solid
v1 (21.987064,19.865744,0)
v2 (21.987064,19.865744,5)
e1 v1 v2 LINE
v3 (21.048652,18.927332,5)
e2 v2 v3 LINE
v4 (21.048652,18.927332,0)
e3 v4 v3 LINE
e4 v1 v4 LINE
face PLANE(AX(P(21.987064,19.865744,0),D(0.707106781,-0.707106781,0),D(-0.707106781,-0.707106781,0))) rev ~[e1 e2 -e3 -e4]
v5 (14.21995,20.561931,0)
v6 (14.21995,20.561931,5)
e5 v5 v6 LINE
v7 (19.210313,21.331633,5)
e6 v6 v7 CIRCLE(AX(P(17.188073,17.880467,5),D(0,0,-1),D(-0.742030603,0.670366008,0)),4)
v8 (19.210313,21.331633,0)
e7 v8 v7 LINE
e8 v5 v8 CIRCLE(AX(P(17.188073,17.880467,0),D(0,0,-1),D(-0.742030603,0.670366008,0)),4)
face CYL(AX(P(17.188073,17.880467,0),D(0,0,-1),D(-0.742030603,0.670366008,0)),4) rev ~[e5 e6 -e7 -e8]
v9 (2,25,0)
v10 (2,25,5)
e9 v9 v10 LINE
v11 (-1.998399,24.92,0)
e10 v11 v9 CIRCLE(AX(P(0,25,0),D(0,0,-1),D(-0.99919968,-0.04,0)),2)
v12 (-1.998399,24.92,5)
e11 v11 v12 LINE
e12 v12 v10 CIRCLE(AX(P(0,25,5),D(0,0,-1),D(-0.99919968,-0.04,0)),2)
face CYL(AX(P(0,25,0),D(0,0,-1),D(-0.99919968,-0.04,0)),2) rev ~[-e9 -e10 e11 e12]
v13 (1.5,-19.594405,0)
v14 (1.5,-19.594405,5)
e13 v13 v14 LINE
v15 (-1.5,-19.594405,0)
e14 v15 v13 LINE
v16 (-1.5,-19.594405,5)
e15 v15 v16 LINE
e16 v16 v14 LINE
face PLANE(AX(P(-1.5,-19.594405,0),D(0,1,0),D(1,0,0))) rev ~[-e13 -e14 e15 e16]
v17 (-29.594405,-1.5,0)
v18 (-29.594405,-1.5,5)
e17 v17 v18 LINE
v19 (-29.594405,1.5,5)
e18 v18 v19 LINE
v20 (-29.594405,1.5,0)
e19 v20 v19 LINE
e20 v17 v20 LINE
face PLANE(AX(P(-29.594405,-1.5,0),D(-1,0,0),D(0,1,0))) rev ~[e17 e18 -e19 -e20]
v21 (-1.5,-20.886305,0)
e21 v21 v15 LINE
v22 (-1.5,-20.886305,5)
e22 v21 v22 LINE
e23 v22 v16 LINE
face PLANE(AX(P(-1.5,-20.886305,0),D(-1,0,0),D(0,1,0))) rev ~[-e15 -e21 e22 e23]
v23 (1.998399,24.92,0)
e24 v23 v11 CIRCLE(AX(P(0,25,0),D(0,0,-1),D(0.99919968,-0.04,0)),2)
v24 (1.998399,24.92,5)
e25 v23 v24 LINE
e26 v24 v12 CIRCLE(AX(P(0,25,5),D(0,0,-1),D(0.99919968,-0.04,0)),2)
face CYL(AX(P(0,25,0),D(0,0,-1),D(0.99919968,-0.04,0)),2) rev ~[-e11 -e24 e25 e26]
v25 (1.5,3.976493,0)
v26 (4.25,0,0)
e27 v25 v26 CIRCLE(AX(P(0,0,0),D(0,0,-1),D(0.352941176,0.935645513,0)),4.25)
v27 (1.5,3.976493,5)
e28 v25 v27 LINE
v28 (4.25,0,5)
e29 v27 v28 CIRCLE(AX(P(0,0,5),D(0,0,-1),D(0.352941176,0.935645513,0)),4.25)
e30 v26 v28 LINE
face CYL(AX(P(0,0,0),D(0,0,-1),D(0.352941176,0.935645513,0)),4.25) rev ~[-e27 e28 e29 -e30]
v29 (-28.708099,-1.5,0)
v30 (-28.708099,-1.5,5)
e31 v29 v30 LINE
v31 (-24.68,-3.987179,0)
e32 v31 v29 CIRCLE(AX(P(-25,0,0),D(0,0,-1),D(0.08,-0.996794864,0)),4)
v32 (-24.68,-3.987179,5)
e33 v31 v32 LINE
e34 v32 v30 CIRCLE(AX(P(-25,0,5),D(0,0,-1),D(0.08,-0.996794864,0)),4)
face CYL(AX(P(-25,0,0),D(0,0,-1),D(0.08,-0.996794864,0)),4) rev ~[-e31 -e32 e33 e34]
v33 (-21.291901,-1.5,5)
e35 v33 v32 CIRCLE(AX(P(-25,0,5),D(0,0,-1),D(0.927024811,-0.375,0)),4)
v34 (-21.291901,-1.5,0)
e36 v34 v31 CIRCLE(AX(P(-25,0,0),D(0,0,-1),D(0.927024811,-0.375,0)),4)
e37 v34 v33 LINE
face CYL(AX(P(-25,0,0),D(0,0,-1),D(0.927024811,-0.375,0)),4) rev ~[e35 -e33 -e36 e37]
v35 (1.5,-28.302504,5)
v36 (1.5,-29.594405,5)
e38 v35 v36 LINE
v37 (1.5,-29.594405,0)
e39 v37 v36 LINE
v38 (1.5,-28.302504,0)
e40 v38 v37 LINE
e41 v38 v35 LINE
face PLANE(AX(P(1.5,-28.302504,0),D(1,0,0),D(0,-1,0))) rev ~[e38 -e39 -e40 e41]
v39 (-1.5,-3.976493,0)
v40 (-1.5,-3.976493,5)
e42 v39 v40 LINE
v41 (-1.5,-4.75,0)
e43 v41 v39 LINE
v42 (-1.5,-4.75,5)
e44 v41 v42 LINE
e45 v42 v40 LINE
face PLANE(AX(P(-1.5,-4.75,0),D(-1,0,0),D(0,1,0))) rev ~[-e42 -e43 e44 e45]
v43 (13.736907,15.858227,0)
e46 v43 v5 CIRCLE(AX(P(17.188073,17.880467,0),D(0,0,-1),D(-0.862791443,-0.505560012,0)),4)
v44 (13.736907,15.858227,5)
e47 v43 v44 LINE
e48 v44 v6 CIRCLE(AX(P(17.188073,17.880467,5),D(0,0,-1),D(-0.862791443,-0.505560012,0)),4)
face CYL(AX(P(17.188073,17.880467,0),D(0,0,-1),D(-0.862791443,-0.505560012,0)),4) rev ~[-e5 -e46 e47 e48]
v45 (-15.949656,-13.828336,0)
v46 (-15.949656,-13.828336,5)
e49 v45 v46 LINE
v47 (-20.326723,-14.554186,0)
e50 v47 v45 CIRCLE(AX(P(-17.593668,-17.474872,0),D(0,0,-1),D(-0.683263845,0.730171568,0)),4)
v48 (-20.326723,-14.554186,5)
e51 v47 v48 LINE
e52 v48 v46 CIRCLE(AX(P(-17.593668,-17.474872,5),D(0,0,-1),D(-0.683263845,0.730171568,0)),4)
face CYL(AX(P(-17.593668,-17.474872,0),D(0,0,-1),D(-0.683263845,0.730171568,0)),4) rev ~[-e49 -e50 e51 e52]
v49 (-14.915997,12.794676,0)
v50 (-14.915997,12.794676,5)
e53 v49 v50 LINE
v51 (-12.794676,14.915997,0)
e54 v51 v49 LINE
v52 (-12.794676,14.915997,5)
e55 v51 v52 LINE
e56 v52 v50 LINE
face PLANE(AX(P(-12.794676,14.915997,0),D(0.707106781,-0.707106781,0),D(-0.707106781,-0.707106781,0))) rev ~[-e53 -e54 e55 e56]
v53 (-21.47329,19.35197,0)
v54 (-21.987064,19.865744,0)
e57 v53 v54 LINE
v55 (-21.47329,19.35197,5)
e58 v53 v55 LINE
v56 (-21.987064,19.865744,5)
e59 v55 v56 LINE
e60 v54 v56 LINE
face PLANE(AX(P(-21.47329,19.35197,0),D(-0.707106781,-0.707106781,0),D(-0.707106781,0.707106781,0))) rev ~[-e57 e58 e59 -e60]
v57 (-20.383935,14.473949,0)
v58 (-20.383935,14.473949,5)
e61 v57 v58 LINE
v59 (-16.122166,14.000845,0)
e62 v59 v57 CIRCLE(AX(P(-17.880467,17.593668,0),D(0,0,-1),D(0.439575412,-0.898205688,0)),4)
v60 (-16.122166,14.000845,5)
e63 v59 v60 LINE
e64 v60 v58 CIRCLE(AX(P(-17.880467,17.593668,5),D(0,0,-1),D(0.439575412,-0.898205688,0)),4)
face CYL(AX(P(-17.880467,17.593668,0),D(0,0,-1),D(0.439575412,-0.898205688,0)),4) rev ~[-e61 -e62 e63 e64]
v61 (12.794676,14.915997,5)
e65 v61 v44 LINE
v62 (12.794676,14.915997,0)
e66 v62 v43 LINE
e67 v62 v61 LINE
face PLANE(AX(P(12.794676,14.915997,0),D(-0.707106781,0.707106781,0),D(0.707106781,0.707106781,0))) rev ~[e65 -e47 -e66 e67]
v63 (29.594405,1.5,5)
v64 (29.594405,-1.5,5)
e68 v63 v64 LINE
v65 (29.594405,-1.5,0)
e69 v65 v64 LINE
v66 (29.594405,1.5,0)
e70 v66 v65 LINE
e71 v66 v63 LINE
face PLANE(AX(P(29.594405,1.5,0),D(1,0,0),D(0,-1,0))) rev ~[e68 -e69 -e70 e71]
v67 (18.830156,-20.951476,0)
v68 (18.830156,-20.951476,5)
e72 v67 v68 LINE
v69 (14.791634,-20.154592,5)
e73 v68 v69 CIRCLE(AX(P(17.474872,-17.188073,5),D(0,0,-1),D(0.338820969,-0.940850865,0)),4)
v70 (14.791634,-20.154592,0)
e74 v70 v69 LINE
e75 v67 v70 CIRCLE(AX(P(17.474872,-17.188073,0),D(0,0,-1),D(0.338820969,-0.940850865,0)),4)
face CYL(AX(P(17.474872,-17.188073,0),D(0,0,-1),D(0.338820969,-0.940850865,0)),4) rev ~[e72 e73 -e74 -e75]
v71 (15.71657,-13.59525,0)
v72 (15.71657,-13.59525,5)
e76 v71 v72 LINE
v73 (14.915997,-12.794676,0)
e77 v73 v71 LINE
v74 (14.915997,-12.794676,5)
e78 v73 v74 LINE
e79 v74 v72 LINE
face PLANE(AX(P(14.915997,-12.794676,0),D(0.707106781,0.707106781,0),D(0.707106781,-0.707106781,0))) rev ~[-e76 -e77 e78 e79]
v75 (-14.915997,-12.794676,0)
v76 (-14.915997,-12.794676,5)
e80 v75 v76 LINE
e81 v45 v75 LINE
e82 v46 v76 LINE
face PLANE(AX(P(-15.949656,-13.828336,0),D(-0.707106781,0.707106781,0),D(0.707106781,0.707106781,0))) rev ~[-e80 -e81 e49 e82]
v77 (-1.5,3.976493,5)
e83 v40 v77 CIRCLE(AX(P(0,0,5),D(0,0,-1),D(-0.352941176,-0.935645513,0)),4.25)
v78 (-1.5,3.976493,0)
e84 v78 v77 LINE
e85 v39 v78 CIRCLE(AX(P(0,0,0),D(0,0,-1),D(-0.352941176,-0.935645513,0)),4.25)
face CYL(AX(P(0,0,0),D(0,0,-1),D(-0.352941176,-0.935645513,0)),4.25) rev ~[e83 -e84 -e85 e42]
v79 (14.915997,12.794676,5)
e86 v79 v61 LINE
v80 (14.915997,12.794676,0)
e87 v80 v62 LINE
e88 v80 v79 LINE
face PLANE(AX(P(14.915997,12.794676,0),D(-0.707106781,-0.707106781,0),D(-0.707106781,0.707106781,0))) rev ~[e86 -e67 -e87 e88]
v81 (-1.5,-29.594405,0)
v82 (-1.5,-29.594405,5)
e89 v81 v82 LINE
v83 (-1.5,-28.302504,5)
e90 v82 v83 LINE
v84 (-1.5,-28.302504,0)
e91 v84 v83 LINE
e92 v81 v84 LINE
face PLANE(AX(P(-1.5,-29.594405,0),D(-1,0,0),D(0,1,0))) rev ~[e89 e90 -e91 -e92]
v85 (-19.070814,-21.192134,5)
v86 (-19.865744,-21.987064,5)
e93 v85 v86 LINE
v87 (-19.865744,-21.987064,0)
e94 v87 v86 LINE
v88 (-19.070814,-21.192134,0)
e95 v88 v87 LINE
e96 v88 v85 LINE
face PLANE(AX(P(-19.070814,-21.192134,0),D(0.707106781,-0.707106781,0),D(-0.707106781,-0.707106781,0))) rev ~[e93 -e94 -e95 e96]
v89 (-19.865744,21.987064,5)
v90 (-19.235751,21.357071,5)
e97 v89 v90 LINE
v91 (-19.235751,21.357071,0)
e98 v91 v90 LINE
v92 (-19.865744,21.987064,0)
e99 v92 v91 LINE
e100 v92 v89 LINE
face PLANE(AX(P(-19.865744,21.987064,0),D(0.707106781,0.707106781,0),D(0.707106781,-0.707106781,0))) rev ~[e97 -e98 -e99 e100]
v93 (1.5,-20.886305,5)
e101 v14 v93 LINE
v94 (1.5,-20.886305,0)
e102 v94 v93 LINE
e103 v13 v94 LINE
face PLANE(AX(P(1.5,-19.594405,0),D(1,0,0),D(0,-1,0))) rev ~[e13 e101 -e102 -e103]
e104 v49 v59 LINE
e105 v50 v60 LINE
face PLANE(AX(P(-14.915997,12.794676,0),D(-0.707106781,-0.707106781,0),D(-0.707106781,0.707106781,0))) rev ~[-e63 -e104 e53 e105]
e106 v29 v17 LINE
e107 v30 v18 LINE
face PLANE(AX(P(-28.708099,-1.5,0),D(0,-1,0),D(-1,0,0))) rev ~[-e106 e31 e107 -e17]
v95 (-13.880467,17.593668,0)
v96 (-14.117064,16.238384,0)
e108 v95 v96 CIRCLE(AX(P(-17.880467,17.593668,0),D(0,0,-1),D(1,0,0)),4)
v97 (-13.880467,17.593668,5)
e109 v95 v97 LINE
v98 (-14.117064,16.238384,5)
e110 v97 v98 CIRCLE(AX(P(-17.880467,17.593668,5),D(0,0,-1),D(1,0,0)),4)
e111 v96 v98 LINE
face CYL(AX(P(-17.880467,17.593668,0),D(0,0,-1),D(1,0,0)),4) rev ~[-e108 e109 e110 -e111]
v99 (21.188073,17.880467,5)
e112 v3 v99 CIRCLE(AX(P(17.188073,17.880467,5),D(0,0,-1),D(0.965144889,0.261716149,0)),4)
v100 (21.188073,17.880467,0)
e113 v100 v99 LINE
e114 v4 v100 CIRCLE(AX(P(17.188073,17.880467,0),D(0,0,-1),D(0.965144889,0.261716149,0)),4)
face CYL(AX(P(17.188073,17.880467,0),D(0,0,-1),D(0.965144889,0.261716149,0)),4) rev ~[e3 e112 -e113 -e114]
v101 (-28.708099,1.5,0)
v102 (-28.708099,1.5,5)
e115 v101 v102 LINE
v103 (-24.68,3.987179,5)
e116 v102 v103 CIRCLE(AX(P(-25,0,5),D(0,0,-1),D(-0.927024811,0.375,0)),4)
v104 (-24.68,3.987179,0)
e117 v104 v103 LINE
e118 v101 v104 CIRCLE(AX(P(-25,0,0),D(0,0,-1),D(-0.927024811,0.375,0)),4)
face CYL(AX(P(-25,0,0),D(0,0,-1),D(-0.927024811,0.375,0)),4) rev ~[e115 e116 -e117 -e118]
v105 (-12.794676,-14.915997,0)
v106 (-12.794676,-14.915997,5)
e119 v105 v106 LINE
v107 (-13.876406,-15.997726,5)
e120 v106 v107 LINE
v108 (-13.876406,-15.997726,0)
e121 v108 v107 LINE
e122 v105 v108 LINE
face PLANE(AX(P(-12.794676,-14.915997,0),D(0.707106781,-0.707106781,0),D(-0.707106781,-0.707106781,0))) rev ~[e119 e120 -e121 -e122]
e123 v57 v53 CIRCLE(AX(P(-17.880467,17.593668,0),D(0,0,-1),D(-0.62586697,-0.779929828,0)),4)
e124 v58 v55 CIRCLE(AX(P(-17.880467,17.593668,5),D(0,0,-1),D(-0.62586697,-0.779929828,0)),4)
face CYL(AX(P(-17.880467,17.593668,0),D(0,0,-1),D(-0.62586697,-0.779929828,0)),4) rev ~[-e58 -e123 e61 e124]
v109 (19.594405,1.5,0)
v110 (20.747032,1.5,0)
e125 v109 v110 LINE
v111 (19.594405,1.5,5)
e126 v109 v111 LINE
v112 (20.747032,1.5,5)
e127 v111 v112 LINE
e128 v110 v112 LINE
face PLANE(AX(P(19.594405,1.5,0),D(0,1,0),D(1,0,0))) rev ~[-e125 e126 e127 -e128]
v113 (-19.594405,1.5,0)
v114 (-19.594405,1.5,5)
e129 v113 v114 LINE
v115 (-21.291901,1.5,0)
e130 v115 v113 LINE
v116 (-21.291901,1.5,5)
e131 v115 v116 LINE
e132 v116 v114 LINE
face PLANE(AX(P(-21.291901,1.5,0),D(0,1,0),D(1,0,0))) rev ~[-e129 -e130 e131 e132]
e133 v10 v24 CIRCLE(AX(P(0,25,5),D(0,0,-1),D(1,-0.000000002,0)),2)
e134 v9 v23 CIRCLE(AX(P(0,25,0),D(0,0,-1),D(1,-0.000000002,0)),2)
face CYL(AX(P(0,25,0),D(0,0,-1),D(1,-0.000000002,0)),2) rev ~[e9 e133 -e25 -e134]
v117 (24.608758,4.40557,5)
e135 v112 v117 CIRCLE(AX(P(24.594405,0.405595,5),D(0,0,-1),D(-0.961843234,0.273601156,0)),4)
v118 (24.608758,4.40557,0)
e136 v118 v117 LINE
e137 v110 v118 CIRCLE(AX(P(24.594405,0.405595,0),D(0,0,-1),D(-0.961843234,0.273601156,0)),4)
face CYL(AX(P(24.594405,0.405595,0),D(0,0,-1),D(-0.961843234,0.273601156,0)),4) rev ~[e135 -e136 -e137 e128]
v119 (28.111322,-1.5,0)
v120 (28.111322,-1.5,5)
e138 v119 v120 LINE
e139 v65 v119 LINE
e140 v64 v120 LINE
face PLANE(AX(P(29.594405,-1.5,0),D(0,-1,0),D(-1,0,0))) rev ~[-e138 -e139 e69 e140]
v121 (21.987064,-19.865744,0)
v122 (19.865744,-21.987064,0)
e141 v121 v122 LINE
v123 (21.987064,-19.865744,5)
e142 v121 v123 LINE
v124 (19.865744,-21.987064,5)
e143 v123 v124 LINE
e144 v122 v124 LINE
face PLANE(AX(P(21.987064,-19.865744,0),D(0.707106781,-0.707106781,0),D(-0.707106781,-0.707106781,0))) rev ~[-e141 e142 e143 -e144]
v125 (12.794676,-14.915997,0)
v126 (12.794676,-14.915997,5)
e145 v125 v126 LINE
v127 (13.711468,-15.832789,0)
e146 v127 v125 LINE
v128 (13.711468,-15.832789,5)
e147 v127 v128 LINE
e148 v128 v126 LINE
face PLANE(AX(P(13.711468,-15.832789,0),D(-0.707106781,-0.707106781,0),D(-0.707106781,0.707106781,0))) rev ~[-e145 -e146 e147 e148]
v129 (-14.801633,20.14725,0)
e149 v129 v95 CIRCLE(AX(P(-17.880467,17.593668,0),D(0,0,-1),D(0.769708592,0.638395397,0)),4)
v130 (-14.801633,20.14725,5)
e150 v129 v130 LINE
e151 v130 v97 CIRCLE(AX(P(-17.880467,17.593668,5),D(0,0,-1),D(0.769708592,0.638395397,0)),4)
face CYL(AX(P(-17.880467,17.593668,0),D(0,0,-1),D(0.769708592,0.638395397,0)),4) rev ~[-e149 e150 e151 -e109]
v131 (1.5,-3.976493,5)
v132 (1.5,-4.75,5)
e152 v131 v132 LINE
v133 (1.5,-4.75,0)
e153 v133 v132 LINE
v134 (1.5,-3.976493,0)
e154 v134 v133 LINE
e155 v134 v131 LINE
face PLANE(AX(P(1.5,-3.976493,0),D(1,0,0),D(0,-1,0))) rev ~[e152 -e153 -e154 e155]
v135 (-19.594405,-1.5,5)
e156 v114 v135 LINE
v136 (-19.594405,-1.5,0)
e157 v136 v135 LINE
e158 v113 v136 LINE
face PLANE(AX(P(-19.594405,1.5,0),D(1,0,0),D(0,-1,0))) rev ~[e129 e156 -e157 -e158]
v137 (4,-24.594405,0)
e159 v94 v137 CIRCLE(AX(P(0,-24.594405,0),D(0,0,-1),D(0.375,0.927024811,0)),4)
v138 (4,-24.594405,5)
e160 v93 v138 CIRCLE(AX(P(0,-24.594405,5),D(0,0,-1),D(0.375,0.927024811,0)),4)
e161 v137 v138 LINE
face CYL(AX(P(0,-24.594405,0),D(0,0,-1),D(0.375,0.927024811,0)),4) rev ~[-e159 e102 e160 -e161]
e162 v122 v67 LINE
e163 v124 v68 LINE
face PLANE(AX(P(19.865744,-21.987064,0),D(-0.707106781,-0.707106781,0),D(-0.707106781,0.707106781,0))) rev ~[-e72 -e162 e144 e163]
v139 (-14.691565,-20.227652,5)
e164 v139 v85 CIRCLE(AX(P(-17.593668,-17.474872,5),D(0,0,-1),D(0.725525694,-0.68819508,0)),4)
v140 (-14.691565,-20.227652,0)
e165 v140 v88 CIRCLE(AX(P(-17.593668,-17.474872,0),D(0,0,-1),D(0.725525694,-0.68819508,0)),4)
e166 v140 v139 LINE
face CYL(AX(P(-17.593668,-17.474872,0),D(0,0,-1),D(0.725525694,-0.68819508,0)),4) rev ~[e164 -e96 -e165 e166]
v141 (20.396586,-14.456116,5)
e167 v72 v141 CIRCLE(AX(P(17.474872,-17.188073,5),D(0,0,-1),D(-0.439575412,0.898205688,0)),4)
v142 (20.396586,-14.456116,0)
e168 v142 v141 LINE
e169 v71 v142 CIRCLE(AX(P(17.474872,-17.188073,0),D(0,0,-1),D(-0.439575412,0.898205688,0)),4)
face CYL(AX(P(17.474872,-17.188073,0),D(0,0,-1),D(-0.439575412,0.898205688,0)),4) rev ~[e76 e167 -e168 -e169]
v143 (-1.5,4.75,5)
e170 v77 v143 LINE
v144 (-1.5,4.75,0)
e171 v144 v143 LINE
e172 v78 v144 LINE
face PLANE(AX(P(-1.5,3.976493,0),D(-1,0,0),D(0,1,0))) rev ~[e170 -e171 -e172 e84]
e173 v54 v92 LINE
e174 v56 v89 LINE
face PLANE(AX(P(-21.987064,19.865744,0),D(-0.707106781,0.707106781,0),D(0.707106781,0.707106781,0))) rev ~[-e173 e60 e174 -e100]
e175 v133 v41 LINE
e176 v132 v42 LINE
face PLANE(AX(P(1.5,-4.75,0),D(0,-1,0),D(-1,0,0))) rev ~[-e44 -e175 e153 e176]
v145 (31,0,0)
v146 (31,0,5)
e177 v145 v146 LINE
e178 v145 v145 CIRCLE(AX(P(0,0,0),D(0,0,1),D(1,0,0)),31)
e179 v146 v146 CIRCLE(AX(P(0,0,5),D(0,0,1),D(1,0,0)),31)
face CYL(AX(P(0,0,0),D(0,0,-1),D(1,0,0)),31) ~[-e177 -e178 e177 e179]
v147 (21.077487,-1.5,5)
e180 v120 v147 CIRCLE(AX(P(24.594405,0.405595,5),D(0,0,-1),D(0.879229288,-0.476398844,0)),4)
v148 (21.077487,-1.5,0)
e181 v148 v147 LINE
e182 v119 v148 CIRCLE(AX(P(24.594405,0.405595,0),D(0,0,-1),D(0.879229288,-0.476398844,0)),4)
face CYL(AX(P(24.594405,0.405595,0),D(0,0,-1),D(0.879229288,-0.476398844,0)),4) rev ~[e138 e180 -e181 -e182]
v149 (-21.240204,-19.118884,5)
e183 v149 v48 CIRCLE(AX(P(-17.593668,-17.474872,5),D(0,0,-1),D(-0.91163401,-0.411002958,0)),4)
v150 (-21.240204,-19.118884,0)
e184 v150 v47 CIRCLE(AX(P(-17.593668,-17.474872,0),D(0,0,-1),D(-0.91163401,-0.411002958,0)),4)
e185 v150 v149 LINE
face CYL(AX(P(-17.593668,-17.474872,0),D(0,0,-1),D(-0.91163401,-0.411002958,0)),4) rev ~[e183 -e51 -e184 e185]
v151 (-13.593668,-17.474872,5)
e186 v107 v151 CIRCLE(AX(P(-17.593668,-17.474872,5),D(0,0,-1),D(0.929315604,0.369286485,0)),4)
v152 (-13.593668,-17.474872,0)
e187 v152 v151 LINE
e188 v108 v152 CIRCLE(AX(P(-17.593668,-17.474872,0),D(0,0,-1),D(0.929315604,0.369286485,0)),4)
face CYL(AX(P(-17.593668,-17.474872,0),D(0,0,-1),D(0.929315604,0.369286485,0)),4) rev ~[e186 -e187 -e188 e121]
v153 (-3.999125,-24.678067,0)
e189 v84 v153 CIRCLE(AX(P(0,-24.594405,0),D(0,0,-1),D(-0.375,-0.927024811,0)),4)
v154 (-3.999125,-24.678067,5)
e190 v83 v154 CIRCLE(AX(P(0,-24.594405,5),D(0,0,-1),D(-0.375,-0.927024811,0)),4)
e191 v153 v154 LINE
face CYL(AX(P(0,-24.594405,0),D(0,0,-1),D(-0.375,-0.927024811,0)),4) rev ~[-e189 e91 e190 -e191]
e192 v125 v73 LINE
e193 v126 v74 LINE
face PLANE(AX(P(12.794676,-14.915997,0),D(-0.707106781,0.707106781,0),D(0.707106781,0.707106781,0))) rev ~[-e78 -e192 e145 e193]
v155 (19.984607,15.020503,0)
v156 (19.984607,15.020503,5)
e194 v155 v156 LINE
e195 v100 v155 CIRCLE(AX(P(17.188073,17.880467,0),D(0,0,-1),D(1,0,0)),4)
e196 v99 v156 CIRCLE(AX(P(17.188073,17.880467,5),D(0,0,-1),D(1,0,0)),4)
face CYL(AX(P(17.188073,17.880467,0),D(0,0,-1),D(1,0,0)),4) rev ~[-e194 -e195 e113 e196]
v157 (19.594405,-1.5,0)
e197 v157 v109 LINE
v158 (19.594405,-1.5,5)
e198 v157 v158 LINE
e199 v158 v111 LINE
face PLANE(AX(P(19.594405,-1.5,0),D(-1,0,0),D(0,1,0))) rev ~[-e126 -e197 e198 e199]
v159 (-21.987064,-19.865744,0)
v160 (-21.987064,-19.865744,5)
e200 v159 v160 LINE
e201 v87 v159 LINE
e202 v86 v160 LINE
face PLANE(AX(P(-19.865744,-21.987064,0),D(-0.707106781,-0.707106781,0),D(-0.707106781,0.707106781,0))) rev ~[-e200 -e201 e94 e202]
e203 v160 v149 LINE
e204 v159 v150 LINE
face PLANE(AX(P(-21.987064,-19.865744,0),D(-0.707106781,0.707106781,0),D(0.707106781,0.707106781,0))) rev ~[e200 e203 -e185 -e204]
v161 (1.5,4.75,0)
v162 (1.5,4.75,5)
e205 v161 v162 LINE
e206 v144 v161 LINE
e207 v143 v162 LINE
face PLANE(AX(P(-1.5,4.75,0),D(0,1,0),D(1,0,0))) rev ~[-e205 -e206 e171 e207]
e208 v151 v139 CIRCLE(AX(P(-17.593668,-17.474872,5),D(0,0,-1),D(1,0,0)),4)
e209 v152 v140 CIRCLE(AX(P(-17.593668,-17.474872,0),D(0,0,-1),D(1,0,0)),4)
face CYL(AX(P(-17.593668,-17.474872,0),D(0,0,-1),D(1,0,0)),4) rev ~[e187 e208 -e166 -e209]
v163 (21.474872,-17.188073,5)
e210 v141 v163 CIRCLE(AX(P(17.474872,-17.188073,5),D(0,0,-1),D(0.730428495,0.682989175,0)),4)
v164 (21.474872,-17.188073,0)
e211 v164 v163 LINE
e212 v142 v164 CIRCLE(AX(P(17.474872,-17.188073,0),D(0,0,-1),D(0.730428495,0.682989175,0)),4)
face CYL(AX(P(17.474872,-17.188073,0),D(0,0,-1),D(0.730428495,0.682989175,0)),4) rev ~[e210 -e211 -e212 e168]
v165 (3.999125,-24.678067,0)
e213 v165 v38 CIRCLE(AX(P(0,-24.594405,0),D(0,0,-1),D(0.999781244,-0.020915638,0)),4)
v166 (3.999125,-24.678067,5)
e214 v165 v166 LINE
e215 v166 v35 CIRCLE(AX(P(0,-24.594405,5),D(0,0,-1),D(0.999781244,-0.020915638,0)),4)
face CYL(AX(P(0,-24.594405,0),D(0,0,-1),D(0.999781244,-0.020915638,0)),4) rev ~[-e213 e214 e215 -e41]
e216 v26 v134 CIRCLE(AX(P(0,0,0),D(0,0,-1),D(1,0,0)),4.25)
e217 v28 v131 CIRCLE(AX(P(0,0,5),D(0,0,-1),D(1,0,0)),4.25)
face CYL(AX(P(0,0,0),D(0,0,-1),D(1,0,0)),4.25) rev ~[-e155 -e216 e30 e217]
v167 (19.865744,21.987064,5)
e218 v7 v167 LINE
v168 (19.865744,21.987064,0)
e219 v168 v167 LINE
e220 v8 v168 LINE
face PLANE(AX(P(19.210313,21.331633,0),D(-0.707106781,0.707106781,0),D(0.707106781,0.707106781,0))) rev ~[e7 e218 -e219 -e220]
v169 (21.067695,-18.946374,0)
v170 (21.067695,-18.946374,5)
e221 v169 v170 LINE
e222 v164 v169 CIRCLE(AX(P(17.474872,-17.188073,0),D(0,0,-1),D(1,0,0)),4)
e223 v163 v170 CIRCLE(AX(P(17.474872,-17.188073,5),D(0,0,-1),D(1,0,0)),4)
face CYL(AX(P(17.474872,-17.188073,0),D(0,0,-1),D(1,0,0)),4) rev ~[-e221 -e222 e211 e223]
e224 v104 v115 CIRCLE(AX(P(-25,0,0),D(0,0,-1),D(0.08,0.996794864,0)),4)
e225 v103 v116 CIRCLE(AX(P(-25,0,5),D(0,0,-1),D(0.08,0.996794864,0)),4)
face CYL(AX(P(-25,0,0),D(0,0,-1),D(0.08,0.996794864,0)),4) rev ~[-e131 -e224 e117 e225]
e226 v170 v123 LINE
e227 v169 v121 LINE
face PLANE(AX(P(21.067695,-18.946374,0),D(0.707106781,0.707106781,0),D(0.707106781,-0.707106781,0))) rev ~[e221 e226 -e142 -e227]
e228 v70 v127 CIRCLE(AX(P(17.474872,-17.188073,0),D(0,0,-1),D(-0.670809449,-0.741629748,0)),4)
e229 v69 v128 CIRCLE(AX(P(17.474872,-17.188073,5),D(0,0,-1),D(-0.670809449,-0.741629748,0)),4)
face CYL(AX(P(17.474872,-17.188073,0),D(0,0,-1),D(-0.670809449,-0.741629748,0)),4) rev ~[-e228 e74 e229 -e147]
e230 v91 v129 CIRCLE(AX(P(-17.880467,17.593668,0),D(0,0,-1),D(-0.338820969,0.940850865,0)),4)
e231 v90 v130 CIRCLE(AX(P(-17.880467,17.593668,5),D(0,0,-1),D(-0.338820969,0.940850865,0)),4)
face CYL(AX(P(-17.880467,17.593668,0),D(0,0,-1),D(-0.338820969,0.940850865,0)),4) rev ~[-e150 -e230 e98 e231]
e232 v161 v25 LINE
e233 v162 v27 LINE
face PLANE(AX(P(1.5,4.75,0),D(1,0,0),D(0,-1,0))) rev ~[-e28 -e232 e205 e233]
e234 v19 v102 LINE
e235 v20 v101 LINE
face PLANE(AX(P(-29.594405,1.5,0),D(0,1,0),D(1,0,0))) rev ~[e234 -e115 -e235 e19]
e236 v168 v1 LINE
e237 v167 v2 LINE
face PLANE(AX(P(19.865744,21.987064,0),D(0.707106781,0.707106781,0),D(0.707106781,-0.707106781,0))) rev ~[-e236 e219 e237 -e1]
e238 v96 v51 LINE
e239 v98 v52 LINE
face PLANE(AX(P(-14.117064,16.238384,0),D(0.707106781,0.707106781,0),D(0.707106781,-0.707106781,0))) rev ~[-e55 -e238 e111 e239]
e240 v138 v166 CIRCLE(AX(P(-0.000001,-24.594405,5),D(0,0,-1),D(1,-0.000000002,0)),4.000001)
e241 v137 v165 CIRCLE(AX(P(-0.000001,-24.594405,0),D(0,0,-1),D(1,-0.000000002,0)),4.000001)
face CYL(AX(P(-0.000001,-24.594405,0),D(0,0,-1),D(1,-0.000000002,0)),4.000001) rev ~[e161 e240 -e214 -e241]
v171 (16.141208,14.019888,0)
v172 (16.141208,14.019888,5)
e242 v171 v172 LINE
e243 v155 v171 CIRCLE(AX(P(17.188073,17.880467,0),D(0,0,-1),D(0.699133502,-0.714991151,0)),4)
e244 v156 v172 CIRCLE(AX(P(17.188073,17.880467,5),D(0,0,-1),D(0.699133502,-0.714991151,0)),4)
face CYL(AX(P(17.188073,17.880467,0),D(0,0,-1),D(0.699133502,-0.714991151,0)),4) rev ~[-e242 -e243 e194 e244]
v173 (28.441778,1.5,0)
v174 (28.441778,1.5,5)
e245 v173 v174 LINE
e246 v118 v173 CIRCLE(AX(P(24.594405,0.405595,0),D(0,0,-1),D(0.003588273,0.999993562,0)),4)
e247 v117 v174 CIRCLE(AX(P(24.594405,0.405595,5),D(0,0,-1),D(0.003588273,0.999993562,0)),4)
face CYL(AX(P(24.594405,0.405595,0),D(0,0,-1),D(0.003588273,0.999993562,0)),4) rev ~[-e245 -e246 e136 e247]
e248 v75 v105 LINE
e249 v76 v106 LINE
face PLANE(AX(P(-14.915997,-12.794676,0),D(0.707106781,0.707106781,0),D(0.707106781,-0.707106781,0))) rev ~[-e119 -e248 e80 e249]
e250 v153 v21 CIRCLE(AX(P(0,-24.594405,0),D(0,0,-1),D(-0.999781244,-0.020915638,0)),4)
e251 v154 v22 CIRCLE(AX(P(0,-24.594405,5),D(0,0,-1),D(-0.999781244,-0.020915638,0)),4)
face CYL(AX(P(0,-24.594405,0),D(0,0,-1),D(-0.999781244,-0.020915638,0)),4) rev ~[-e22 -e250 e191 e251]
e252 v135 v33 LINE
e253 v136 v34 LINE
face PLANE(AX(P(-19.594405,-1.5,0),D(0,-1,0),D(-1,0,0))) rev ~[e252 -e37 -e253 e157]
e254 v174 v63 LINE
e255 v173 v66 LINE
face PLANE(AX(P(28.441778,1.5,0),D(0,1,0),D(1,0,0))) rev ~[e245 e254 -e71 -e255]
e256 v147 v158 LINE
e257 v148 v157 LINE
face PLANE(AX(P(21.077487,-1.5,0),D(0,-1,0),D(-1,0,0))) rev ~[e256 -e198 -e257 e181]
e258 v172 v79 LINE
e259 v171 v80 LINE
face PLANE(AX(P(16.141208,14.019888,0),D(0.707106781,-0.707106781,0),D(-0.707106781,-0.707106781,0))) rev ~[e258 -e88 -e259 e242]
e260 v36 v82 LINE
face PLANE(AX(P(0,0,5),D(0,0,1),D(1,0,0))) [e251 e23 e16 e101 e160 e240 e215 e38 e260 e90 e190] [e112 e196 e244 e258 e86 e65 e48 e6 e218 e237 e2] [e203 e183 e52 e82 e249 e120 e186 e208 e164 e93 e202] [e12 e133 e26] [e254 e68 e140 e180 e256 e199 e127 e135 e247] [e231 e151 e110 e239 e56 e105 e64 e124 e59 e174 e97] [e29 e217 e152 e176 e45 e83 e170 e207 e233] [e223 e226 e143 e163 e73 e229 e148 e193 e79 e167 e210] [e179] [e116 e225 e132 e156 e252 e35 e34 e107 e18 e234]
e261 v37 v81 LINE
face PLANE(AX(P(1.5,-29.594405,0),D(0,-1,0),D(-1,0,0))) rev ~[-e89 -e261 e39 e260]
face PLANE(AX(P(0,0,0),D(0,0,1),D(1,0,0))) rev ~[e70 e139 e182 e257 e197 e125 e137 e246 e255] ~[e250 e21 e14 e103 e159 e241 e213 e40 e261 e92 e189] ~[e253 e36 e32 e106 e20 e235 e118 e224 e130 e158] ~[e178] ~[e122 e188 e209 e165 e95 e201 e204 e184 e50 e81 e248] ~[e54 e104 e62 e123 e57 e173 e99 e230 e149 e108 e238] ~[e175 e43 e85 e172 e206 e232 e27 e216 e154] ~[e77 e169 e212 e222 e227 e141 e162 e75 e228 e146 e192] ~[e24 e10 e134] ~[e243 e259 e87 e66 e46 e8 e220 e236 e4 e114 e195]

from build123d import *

# Parameters (mm, degrees)
F0_R     = 31
F1_DEPTH = 5


with BuildPart() as f1:
    # F0 (on Top) → F1 (new body)
    with BuildSketch(Plane.XY):
        Circle(F0_R)
        with BuildLine():
            ThreePointArc((-28.7080992435, 1.5), (-27.1015041114, 3.4034806404), (-24.68, 3.9871794542))
            ThreePointArc((-24.68, 3.9871794542), (-23.1340148639, 9.4772019223), (-20.3839350968, 14.4739486654))
            ThreePointArc((-20.3839350968, 14.4739486654), (-21.7843066075, 16.7218663809), (-21.4732899684, 19.3519696248))
            Line((-21.4732899684, 19.3519696248), (-21.9870643658, 19.8657440223))
            Line((-21.9870643658, 19.8657440223), (-19.8657440223, 21.9870643658))
            Line((-19.8657440223, 21.9870643658), (-19.2357510946, 21.3570714382))
            ThreePointArc((-19.2357510946, 21.3570714382), (-16.8275788969, 21.4526090468), (-14.8016328487, 20.1472495644))
            ThreePointArc((-14.8016328487, 20.1472495644), (-8.7324141696, 23.4253056068), (-1.9983993595, 24.92))
            ThreePointArc((-1.9983993595, 24.92), (-0.0400080056, 26.9995997998), (2, 25))
            ThreePointArc((2, 25), (1.9995997998, 24.9599919944), (1.9983993595, 24.92))
            ThreePointArc((1.9983993595, 24.92), (8.396839067, 23.5476770337), (14.2199501873, 20.5619312485))
            ThreePointArc((14.2199501873, 20.5619312485), (16.578332036, 21.8337211242), (19.2103126472, 21.3316329908))
            Line((19.2103126472, 21.3316329908), (19.8657440223, 21.9870643658))
            Line((19.8657440223, 21.9870643658), (21.9870643658, 19.8657440223))
            Line((21.9870643658, 19.8657440223), (21.048652157, 18.9273318134))
            ThreePointArc((21.048652157, 18.9273318134), (21.1530642912, 18.408521084), (21.1880725996, 17.8804672182))
            ThreePointArc((21.1880725996, 17.8804672182), (20.8749504136, 16.3290382046), (19.9846066074, 15.020502613))
            ThreePointArc((19.9846066074, 15.020502613), (22.9196691944, 9.9844260737), (24.608757715, 4.4055696256))
            ThreePointArc((24.608757715, 4.4055696256), (27.0107687706, 3.5932566366), (28.4417775606, 1.5))
            Line((28.4417775606, 1.5), (29.5944046229, 1.5))
            Line((29.5944046229, 1.5), (29.5944046229, -1.5))
            Line((29.5944046229, -1.5), (28.1113217756, -1.5))
            ThreePointArc((28.1113217756, -1.5), (26.7035545193, -2.9931524386), (24.7406441339, -3.5917304797))
            ThreePointArc((24.7406441339, -3.5917304797), (23.2131665144, -9.2816431936), (20.3965858209, -14.4561158978))
            ThreePointArc((20.3965858209, -14.4561158978), (21.1955475808, -15.7195454325), (21.4748718411, -17.1880725996))
            ThreePointArc((21.4748718411, -17.1880725996), (21.3717482185, -18.0904885234), (21.0676945913, -18.9463742477))
            Line((21.0676945913, -18.9463742477), (21.9870643658, -19.8657440223))
            Line((21.9870643658, -19.8657440223), (19.8657440223, -21.9870643658))
            Line((19.8657440223, -21.9870643658), (18.8301557175, -20.9514760611))
            ThreePointArc((18.8301557175, -20.9514760611), (16.7005194557, -21.1124041838), (14.7916340459, -20.1545915923))
            ThreePointArc((14.7916340459, -20.1545915923), (9.6637784532, -23.0566993737), (3.9991249765, -24.6780671736))
            ThreePointArc((3.9991249765, -24.6780671736), (3.2930577298, -26.865036867), (1.5, -28.3025038665))
            Line((1.5, -28.3025038665), (1.5, -29.5944046229))
            Line((1.5, -29.5944046229), (-1.5, -29.5944046229))
            Line((-1.5, -29.5944046229), (-1.5, -28.3025038665))
            ThreePointArc((-1.5, -28.3025038665), (-3.2930577298, -26.865036867), (-3.9991249765, -24.6780671736))
            ThreePointArc((-3.9991249765, -24.6780671736), (-9.606613518, -23.0805757449), (-14.691565202, -20.2276521602))
            ThreePointArc((-14.691565202, -20.2276521602), (-16.7333297142, -21.3812535524), (-19.0708139147, -21.1921342582))
            Line((-19.0708139147, -21.1921342582), (-19.8657440223, -21.9870643658))
            Line((-19.8657440223, -21.9870643658), (-21.9870643658, -19.8657440223))
            Line((-21.9870643658, -19.8657440223), (-21.2402040172, -19.1188836736))
            ThreePointArc((-21.2402040172, -19.1188836736), (-21.5159012518, -16.6899602951), (-20.326723356, -14.5541855701))
            ThreePointArc((-20.326723356, -14.5541855701), (-23.115291289, -9.522778409), (-24.68, -3.9871794542))
            ThreePointArc((-24.68, -3.9871794542), (-27.1015041114, -3.4034806404), (-28.7080992435, -1.5))
            Line((-28.7080992435, -1.5), (-29.5944046229, -1.5))
            Line((-29.5944046229, -1.5), (-29.5944046229, 1.5))
            Line((-29.5944046229, 1.5), (-28.7080992435, 1.5))
        make_face(mode=Mode.SUBTRACT)
        with BuildLine():
            ThreePointArc((-24.68, 3.9871794542), (-22.6329530448, 3.2244516916), (-21.2919007565, 1.5))
            Line((-21.2919007565, 1.5), (-19.5944046229, 1.5))
            Line((-19.5944046229, 1.5), (-19.5944046229, -1.5))
            Line((-19.5944046229, -1.5), (-21.2919007565, -1.5))
            ThreePointArc((-21.2919007565, -1.5), (-22.6329530448, -3.2244516916), (-24.68, -3.9871794542))
            ThreePointArc((-24.68, -3.9871794542), (-23.115291289, -9.522778409), (-20.326723356, -14.5541855701))
            ThreePointArc((-20.326723356, -14.5541855701), (-18.2480519875, -13.5287621662), (-15.9496561442, -13.8283358006))
            Line((-15.9496561442, -13.8283358006), (-14.915996554, -12.7946762104))
            Line((-14.915996554, -12.7946762104), (-12.7946762104, -14.915996554))
            Line((-12.7946762104, -14.915996554), (-13.8764055595, -15.9977259031))
            ThreePointArc((-13.8764055595, -15.9977259031), (-13.664988194, -16.7228910131), (-13.5936679767, -17.4748718411))
            ThreePointArc((-13.5936679767, -17.4748718411), (-13.8782668477, -18.95669317), (-14.691565202, -20.2276521602))
            ThreePointArc((-14.691565202, -20.2276521602), (-9.606613518, -23.0805757449), (-3.9991249765, -24.6780671736))
            ThreePointArc((-3.9991249765, -24.6780671736), (-3.3398290754, -22.3931454952), (-1.5, -20.8863053794))
            Line((-1.5, -20.8863053794), (-1.5, -19.5944046229))
            Line((-1.5, -19.5944046229), (1.5, -19.5944046229))
            Line((1.5, -19.5944046229), (1.5, -20.8863053794))
            ThreePointArc((1.5, -20.8863053794), (3.3166247904, -22.3583366454), (4, -24.5944046229))
            ThreePointArc((4, -24.5944046229), (3.9997812381, -24.6362381861), (3.9991249765, -24.6780671736))
            ThreePointArc((3.9991249765, -24.6780671736), (9.6637784532, -23.0566993737), (14.7916340459, -20.1545915923))
            ThreePointArc((14.7916340459, -20.1545915923), (13.5942416238, -18.1579742011), (13.7114683796, -15.8327887231))
            Line((13.7114683796, -15.8327887231), (12.7946762104, -14.915996554))
            Line((12.7946762104, -14.915996554), (14.915996554, -12.7946762104))
            Line((14.915996554, -12.7946762104), (15.716570193, -13.5952498494))
            ThreePointArc((15.716570193, -13.5952498494), (18.1985117044, -13.2540739534), (20.3965858209, -14.4561158978))
            ThreePointArc((20.3965858209, -14.4561158978), (23.2131665144, -9.2816431936), (24.7406441339, -3.5917304797))
            ThreePointArc((24.7406441339, -3.5917304797), (22.6109225733, -3.0679905163), (21.0774874702, -1.5))
            Line((21.0774874702, -1.5), (19.5944046229, -1.5))
            Line((19.5944046229, -1.5), (19.5944046229, 1.5))
            Line((19.5944046229, 1.5), (20.7470316853, 1.5))
            ThreePointArc((20.7470316853, 1.5), (22.1894942303, 3.6019066891), (24.608757715, 4.4055696256))
            ThreePointArc((24.608757715, 4.4055696256), (22.9196691944, 9.9844260737), (19.9846066074, 15.020502613))
            ThreePointArc((19.9846066074, 15.020502613), (18.1958639143, 14.0095039446), (16.1412080043, 14.0198876608))
            Line((16.1412080043, 14.0198876608), (14.915996554, 12.7946762104))
            Line((14.915996554, 12.7946762104), (12.7946762104, 14.915996554))
            Line((12.7946762104, 14.915996554), (13.736906827, 15.8582271706))
            ThreePointArc((13.736906827, 15.8582271706), (13.2089994395, 18.2890951502), (14.2199501873, 20.5619312485))
            ThreePointArc((14.2199501873, 20.5619312485), (8.396839067, 23.5476770337), (1.9983993595, 24.92))
            ThreePointArc((1.9983993595, 24.92), (0, 23), (-1.9983993595, 24.92))
            ThreePointArc((-1.9983993595, 24.92), (-8.7324141696, 23.4253056068), (-14.8016328487, 20.1472495644))
            ThreePointArc((-14.8016328487, 20.1472495644), (-14.1177994493, 18.9509930155), (-13.8804672182, 17.5936679767))
            ThreePointArc((-13.8804672182, 17.5936679767), (-13.9400602693, 16.9057776679), (-14.1170637567, 16.2383841002))
            Line((-14.1170637567, 16.2383841002), (-12.7946762104, 14.915996554))
            Line((-12.7946762104, 14.915996554), (-14.915996554, 12.7946762104))
            Line((-14.915996554, 12.7946762104), (-16.12216557, 14.0008452265))
            ThreePointArc((-16.12216557, 14.0008452265), (-18.3218003053, 13.618089389), (-20.3839350968, 14.4739486654))
            ThreePointArc((-20.3839350968, 14.4739486654), (-23.1340148639, 9.4772019223), (-24.68, 3.9871794542))
        make_face()
        with BuildLine():
            ThreePointArc((1.5, 3.9764934301), (3.4955328635, 2.4173849507), (4.25, 0))
            ThreePointArc((4.25, 0), (3.4955328635, -2.4173849507), (1.5, -3.9764934301))
            Line((1.5, -3.9764934301), (1.5, -4.75))
            Line((1.5, -4.75), (-1.5, -4.75))
            Line((-1.5, -4.75), (-1.5, -3.9764934301))
            ThreePointArc((-1.5, -3.9764934301), (-4.25, 0), (-1.5, 3.9764934301))
            Line((-1.5, 3.9764934301), (-1.5, 4.75))
            Line((-1.5, 4.75), (1.5, 4.75))
            Line((1.5, 4.75), (1.5, 3.9764934301))
        make_face(mode=Mode.SUBTRACT)
    extrude(amount=F1_DEPTH)


solid = f1.part
